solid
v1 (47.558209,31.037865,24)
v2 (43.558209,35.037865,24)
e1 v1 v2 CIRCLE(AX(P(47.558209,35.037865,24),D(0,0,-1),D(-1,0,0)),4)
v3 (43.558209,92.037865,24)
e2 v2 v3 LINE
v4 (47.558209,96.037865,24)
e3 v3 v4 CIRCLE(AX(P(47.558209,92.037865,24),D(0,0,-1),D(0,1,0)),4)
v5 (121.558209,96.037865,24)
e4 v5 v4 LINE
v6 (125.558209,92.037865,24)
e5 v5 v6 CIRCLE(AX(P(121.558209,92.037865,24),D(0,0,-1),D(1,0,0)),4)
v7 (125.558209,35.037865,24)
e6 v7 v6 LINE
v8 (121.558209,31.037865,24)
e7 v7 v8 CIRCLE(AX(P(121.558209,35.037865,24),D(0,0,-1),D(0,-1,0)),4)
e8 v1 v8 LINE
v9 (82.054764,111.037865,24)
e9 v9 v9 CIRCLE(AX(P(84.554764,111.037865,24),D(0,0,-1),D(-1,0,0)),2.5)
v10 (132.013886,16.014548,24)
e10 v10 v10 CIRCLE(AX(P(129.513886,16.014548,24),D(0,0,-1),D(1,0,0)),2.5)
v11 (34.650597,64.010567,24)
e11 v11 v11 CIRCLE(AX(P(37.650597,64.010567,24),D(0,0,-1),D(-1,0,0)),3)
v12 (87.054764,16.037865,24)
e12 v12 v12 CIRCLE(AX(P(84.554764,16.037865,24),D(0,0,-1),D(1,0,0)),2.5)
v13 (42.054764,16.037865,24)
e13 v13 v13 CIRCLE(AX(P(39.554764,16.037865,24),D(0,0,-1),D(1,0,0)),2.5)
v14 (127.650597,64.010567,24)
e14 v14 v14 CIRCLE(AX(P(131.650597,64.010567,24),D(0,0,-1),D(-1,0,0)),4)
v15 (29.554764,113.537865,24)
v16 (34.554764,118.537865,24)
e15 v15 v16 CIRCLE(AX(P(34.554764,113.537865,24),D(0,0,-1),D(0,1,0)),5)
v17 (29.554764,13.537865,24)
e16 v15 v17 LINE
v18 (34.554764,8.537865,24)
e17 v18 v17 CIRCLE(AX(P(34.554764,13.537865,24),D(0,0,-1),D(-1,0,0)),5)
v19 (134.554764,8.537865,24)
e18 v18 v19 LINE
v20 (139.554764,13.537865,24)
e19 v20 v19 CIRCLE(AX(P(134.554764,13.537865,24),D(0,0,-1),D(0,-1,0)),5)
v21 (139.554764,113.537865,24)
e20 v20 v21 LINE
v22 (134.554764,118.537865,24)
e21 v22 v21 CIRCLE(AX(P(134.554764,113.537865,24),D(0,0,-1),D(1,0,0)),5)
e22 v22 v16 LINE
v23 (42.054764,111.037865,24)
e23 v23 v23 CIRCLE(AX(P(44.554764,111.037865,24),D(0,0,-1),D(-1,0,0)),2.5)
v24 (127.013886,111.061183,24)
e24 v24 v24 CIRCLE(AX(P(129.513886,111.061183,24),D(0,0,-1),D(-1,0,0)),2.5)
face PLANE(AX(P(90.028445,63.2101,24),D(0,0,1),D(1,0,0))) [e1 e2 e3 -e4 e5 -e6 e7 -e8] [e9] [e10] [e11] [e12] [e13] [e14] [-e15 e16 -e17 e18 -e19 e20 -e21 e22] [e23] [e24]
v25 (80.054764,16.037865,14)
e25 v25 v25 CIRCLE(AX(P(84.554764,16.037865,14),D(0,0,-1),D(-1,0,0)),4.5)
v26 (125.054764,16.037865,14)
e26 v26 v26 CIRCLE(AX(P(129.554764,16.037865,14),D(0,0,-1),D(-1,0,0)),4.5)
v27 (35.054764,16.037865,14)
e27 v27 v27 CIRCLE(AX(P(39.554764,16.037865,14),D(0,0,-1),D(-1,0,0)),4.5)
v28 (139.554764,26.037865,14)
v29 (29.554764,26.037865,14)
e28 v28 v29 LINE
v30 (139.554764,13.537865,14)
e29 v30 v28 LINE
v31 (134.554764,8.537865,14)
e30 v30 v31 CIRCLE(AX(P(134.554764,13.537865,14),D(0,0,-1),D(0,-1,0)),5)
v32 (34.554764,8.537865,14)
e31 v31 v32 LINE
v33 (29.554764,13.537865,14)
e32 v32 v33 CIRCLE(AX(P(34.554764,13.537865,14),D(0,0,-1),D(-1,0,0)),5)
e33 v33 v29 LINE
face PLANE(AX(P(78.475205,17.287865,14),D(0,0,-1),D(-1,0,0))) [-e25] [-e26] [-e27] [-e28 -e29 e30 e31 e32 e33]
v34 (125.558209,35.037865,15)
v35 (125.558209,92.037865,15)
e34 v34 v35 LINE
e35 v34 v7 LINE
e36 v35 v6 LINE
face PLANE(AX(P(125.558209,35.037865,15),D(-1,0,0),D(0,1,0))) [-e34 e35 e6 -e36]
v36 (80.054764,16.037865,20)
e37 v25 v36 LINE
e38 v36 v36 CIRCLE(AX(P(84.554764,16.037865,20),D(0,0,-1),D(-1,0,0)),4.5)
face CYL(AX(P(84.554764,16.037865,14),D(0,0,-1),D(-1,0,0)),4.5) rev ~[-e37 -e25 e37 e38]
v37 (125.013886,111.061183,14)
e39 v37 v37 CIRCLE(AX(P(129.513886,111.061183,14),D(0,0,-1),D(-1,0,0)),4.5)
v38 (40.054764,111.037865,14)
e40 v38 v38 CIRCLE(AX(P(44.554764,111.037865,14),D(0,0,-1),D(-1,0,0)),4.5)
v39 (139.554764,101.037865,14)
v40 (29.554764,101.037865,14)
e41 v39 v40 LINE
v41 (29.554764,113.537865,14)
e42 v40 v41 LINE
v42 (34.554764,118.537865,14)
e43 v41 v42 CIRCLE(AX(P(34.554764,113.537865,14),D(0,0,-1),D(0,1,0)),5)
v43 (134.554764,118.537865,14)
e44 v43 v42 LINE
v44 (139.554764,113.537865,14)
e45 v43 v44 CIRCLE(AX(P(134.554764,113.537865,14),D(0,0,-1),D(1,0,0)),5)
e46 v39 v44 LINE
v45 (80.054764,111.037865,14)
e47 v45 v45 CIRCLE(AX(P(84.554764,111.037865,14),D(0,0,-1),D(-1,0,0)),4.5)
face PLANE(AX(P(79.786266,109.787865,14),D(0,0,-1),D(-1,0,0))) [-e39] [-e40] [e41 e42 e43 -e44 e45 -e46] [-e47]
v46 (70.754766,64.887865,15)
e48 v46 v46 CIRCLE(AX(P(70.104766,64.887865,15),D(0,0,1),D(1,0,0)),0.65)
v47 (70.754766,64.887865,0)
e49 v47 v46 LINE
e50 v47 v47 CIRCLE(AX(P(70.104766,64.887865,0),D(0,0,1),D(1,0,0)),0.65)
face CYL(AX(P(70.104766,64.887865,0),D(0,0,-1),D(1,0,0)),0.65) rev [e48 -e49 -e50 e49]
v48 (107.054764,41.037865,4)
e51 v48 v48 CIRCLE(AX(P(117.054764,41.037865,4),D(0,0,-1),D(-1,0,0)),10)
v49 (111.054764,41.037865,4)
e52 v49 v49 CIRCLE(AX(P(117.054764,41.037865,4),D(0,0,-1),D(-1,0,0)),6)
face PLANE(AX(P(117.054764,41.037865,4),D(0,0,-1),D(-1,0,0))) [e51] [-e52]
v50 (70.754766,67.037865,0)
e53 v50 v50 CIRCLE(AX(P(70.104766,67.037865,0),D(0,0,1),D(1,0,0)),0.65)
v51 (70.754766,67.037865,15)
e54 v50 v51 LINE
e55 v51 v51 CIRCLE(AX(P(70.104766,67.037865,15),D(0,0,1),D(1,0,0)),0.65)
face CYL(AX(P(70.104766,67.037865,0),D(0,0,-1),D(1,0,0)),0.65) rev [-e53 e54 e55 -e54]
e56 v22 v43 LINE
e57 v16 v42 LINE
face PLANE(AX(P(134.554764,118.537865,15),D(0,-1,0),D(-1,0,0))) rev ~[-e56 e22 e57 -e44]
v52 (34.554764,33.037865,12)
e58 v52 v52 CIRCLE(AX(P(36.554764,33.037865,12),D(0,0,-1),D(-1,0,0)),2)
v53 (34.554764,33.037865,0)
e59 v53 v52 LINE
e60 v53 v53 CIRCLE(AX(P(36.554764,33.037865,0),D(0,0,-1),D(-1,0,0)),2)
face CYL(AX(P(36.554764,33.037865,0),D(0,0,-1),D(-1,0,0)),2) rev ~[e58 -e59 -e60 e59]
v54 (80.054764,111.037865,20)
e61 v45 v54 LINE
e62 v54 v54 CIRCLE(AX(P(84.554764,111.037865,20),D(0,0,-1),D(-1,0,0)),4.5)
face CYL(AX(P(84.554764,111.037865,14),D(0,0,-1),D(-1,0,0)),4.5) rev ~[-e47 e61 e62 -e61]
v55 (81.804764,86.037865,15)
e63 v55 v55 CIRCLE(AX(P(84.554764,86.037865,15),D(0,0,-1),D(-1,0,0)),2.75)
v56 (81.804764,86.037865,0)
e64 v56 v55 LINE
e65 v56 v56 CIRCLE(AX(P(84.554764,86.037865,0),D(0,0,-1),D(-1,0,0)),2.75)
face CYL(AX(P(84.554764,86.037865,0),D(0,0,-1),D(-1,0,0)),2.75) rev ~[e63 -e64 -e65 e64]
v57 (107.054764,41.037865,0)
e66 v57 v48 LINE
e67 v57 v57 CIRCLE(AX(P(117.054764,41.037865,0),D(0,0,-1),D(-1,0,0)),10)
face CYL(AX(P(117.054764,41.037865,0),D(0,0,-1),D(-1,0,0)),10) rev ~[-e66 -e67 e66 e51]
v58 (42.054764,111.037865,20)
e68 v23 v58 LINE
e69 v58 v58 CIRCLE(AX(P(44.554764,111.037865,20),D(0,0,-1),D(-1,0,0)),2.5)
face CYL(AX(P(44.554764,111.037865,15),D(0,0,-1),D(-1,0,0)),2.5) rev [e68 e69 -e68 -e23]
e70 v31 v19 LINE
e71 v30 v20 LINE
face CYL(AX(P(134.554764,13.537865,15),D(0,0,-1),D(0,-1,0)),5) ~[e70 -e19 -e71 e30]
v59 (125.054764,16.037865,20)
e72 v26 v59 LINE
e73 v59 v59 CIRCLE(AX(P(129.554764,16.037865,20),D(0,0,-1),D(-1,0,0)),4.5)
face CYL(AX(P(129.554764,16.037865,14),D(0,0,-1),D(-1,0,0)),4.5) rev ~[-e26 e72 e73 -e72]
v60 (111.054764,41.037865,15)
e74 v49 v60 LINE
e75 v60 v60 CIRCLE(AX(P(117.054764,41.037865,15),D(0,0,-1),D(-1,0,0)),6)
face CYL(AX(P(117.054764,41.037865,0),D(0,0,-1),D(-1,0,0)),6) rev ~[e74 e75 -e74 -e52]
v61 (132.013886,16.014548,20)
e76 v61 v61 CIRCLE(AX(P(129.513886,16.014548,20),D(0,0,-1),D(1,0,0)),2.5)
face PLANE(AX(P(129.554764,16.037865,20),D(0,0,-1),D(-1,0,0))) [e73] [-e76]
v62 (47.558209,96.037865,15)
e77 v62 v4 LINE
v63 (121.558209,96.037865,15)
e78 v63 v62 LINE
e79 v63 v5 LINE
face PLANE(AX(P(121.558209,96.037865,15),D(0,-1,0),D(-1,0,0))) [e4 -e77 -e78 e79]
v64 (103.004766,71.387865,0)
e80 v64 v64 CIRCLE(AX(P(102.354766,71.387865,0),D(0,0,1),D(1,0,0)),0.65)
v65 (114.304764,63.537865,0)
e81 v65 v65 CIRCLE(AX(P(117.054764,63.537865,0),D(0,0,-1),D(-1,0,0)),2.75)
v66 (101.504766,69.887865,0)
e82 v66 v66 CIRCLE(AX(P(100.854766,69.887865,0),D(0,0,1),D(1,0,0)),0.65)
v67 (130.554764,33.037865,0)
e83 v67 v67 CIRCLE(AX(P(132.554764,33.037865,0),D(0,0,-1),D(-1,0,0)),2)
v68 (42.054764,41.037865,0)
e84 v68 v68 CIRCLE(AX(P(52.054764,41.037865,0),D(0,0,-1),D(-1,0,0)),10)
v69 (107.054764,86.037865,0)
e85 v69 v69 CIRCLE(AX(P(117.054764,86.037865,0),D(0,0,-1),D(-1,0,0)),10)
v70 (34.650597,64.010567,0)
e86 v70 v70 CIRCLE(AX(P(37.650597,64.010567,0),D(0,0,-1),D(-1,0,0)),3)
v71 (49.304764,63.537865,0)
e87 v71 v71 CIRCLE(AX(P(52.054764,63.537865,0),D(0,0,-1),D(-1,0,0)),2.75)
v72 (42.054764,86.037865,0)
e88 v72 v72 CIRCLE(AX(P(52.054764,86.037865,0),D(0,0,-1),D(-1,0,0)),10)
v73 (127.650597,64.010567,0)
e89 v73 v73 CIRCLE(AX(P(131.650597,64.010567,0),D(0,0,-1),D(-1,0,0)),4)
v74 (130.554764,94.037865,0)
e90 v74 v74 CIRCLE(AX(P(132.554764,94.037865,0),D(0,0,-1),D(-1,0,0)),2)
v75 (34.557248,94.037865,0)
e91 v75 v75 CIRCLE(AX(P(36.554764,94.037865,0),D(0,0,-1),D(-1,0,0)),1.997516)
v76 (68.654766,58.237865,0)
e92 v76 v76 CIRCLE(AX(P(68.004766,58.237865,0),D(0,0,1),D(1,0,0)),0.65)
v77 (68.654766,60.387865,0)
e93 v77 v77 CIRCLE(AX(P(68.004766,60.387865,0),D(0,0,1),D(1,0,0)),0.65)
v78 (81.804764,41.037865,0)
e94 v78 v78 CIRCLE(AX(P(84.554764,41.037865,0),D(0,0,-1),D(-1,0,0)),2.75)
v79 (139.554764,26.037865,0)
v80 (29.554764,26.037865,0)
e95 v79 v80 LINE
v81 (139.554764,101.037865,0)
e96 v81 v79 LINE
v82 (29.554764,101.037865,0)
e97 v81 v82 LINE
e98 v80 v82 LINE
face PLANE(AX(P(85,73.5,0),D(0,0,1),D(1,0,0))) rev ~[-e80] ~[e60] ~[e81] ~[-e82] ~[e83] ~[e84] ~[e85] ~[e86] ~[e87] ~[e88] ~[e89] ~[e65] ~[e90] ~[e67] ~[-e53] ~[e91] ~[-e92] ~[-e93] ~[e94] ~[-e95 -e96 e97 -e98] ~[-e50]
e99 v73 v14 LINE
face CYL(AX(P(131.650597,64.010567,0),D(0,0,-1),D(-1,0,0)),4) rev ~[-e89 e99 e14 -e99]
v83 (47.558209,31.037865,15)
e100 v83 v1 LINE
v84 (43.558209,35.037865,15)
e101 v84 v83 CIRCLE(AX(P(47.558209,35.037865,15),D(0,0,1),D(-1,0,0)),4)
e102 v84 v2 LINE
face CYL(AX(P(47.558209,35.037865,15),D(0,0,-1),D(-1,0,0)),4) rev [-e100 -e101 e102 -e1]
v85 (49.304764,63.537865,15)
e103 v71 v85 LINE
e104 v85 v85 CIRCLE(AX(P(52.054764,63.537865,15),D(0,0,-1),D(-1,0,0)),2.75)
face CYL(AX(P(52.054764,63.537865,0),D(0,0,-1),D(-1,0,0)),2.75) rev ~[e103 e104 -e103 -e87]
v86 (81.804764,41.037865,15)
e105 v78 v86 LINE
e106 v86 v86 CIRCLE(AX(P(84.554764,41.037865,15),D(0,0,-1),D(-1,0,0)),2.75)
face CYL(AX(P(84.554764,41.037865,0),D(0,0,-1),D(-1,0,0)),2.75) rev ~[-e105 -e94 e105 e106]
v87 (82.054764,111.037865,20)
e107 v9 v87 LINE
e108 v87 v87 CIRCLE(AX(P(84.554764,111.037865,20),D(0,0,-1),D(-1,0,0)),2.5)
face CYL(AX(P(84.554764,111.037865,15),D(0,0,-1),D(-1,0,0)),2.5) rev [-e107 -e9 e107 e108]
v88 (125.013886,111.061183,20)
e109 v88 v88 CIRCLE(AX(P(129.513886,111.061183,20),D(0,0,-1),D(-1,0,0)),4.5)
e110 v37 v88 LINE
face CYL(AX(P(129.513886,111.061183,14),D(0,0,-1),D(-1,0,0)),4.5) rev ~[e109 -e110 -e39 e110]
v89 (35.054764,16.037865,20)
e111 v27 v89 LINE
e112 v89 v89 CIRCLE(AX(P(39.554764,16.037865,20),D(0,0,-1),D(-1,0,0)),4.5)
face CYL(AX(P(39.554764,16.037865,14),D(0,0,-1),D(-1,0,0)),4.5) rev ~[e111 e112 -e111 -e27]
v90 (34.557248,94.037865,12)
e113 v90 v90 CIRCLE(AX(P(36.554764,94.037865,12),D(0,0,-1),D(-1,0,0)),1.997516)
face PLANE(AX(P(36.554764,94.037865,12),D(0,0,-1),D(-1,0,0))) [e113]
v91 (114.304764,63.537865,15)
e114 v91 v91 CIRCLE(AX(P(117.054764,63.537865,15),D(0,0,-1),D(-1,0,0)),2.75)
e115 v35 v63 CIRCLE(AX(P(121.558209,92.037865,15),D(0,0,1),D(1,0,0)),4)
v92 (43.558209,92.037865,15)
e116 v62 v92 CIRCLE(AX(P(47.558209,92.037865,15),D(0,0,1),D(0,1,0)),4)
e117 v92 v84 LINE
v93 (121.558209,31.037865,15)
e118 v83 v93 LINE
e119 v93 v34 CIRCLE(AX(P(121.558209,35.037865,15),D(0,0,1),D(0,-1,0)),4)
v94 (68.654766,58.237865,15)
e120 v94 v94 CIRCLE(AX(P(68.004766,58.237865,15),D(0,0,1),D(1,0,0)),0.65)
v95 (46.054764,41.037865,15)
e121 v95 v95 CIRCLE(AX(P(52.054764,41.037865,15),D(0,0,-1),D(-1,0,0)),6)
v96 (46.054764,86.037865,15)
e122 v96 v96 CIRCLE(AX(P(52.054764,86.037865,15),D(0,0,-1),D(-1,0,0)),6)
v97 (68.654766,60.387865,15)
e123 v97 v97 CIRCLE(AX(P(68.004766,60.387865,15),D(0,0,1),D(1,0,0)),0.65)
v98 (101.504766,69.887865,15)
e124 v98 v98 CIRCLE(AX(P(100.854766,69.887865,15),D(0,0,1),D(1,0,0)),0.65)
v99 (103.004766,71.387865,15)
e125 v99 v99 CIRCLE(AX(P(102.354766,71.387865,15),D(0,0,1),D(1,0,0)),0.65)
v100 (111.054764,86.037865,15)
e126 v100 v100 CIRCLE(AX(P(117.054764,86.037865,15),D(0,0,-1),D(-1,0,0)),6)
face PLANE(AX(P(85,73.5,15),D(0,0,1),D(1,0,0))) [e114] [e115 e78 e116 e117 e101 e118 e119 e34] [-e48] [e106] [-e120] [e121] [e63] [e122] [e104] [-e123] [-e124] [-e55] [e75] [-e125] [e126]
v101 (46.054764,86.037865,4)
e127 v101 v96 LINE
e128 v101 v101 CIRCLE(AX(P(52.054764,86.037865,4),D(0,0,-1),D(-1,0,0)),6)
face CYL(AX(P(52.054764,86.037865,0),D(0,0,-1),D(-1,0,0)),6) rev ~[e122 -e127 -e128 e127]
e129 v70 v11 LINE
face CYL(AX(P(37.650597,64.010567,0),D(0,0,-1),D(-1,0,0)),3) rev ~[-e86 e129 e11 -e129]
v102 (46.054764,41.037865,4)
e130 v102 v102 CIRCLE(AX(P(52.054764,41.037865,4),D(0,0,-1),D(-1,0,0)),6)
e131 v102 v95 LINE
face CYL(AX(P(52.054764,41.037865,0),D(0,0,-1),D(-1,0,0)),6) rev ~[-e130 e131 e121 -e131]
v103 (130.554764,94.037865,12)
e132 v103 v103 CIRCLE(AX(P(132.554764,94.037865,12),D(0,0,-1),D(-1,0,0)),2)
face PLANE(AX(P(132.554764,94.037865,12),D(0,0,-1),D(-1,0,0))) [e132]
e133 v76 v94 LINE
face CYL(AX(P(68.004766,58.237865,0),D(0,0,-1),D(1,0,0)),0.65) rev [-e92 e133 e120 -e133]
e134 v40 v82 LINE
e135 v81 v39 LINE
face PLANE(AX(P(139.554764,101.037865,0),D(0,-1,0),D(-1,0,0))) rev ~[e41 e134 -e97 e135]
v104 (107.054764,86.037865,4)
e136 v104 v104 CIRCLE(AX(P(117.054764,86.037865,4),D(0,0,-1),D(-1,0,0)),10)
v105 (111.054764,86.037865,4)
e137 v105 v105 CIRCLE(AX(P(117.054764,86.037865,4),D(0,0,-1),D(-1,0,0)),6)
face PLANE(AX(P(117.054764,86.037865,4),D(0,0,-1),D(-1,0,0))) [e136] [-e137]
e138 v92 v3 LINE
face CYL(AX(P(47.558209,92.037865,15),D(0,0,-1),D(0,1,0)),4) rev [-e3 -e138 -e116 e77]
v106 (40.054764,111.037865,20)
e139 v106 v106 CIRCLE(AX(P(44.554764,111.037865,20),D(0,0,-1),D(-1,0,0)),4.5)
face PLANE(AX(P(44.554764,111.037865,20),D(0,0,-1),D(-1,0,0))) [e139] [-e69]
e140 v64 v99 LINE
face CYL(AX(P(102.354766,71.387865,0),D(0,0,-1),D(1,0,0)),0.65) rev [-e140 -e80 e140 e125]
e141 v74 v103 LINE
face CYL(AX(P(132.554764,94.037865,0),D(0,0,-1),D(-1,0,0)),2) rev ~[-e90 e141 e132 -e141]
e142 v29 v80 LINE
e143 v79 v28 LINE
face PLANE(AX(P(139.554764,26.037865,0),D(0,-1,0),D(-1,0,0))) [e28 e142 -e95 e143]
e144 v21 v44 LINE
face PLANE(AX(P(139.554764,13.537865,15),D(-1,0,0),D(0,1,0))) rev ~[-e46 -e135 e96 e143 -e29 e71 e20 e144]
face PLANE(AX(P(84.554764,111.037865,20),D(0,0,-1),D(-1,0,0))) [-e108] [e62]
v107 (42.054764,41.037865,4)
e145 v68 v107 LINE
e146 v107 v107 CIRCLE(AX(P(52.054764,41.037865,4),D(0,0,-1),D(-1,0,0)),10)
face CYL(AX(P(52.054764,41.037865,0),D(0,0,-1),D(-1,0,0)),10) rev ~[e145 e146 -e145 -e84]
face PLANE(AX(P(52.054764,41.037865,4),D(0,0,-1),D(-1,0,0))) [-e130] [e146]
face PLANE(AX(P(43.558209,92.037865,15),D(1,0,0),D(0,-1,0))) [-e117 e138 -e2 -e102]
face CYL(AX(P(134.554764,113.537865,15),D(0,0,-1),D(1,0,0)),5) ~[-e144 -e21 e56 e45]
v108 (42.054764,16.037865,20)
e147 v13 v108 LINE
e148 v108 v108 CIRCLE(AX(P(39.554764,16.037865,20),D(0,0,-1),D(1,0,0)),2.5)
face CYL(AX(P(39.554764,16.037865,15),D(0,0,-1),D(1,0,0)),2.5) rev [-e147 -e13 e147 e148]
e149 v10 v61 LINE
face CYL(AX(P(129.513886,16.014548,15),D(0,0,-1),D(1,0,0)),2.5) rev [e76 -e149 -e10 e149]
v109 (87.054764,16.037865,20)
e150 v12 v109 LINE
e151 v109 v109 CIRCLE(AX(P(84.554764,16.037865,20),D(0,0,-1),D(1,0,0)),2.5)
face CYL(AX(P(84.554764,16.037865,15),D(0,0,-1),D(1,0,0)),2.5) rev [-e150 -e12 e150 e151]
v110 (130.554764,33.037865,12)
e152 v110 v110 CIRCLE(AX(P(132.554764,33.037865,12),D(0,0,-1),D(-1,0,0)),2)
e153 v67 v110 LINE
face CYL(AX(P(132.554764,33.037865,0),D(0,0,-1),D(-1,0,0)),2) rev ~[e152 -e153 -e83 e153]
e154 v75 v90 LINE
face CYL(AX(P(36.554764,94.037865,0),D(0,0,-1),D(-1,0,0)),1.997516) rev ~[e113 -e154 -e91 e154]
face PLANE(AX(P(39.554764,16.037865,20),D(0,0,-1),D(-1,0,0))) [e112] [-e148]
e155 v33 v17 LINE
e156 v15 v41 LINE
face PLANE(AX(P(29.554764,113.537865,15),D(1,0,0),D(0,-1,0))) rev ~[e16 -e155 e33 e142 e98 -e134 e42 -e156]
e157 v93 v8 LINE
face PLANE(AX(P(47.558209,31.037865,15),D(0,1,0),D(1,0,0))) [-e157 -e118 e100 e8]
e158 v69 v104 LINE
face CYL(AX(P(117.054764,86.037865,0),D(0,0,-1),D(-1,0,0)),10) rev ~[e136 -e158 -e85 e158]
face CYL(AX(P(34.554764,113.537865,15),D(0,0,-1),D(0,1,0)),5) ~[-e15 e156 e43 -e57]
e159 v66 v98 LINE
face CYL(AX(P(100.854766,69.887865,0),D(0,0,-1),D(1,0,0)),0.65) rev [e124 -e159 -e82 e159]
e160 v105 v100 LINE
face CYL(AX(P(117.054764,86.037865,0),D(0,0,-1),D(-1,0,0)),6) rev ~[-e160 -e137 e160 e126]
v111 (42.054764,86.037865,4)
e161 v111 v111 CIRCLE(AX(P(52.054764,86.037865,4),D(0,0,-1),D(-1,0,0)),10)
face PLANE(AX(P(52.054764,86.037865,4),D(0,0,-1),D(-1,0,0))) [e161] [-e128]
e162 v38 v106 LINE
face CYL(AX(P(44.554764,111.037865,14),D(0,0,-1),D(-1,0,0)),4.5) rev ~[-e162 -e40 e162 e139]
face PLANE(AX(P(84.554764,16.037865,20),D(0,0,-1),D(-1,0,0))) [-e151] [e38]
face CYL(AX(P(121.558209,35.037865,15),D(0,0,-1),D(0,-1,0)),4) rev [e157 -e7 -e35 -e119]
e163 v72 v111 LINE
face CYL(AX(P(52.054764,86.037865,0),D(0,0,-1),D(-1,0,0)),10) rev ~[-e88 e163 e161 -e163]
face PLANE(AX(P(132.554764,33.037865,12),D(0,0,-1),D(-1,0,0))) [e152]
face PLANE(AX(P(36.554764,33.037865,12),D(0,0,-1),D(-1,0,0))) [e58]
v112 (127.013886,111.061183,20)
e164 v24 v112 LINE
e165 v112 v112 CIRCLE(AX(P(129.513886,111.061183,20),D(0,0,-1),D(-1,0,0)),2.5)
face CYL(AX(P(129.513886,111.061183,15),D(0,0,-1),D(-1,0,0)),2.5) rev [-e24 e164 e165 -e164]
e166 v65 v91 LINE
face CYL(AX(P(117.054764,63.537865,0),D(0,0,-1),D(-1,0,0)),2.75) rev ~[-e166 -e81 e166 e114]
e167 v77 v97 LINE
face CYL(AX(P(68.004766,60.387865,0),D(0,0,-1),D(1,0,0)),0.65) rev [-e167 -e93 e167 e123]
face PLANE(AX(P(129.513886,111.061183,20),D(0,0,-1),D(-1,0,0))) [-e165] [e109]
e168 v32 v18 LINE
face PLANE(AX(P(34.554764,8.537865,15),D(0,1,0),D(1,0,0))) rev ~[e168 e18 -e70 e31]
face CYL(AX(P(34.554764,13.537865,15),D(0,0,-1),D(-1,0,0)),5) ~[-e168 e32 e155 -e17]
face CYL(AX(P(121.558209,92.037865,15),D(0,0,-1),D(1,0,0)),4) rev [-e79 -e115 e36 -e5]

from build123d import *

# Parameters (mm, degrees)
CROQUIS1_W              = 170
CROQUIS1_H              = 147
CROQUIS1_R              = 0.65
SALIENTE_EXTRUIR1_DEPTH = 15
CROQUIS2_R              = 6
CROQUIS2_R_2            = 2.75
CORTAR_EXTRUIR1_DEPTH   = 226.242091981
CROQUIS3_R              = 10
CORTAR_EXTRUIR2_DEPTH   = 4
CROQUIS5_R              = 2.5
CORTAR_EXTRUIR4_DEPTH   = 226.242091981
CROQUIS7_W              = 194.996484343
CROQUIS7_H              = 184.60954518
CORTAR_EXTRUIR6_DEPTH   = 226.242091981
CROQUIS8_R              = 2.5
SALIENTE_EXTRUIR2_DEPTH = 49
CROQUIS11_R             = 3.25
CROQUIS11_R_2           = 2.75
CORTAR_EXTRUIR9_DEPTH   = 20
CROQUIS12_R             = 1.997516107
CROQUIS12_R_2           = 2
CORTAR_EXTRUIR10_DEPTH  = 12
CROQUIS13_W             = 135.039321601
CROQUIS13_H             = 118.061076797
CORTAR_EXTRUIR11_DEPTH  = 40
CROQUIS14_W             = 119.536996173
CROQUIS14_H             = 17.5
CROQUIS14_W_2           = 122.159118923
CORTAR_EXTRUIR12_DEPTH  = 14
CROQUIS10_R             = 4.5
CORTAR_EXTRUIR8_DEPTH   = 6
CROQUIS15_R             = 3.89592378
CROQUIS15_R_2           = 2.9773148
SALIENTE_EXTRUIR3_DEPTH = 24
CORTAR_EXTRUIR13_START  = -9
CORTAR_EXTRUIR13_DEPTH  = 9
CROQUIS17_R             = 3
CROQUIS17_R_2           = 4
CORTAR_EXTRUIR14_DEPTH  = 24


with BuildPart() as part:
    # Croquis1 → Saliente-Extruir1 (new body)
    with BuildSketch(Plane.XY):
        with Locations((85, 73.5)):
            Rectangle(CROQUIS1_W, CROQUIS1_H)
        with Locations((102.354765644, 71.387865203)):
            Circle(CROQUIS1_R, mode=Mode.SUBTRACT)
        with Locations((68.004765644, 60.387865203)):
            Circle(CROQUIS1_R, mode=Mode.SUBTRACT)
        with Locations((68.004765644, 58.237865203)):
            Circle(CROQUIS1_R, mode=Mode.SUBTRACT)
        with Locations((70.104765644, 64.887865203)):
            Circle(CROQUIS1_R, mode=Mode.SUBTRACT)
        with Locations((70.104765644, 67.037865203)):
            Circle(CROQUIS1_R, mode=Mode.SUBTRACT)
        with Locations((100.854765644, 69.887865203)):
            Circle(CROQUIS1_R, mode=Mode.SUBTRACT)
    extrude(amount=SALIENTE_EXTRUIR1_DEPTH)

    # Croquis2 → Cortar-Extruir1 (cut, through all)
    with BuildSketch(Plane(origin=(0, 0, 0), x_dir=(-1, 0, 0), z_dir=(0, 0, -1))):
        with Locations((-52.054764009, 86.037865203)):
            Circle(CROQUIS2_R)
        with Locations((-117.054764009, 86.037865203)):
            Circle(CROQUIS2_R)
        with Locations((-117.054764009, 41.037865203)):
            Circle(CROQUIS2_R)
        with Locations((-52.054764009, 41.037865203)):
            Circle(CROQUIS2_R)
        with Locations((-117.054764009, 63.537865203)):
            Circle(CROQUIS2_R_2)
        with Locations((-52.054764009, 63.537865203)):
            Circle(CROQUIS2_R_2)
        with Locations((-84.554764009, 86.037865203)):
            Circle(CROQUIS2_R_2)
        with Locations((-84.554764009, 41.037865203)):
            Circle(CROQUIS2_R_2)
    extrude(amount=-CORTAR_EXTRUIR1_DEPTH, mode=Mode.SUBTRACT)

    # Croquis3 → Cortar-Extruir2 (cut)
    with BuildSketch(Plane(origin=(0, 0, 0), x_dir=(-1, 0, 0), z_dir=(0, 0, -1))):
        with Locations((-52.054764009, 86.037865203)):
            Circle(CROQUIS3_R)
        with Locations((-117.054764009, 86.037865203)):
            Circle(CROQUIS3_R)
        with Locations((-117.054764009, 41.037865203)):
            Circle(CROQUIS3_R)
        with Locations((-52.054764009, 41.037865203)):
            Circle(CROQUIS3_R)
    extrude(amount=-CORTAR_EXTRUIR2_DEPTH, mode=Mode.SUBTRACT)

    # Croquis5 → Cortar-Extruir4 (cut, through all)
    with BuildSketch(Plane(origin=(0, 0, 0), x_dir=(-1, 0, 0), z_dir=(0, 0, -1))):
        with Locations((-84.554764009, 111.037865203)):
            Circle(CROQUIS5_R)
        with Locations((-44.554764009, 111.037865203)):
            Circle(CROQUIS5_R)
        with Locations((-129.51388638, 111.061182682)):
            Circle(CROQUIS5_R)
        with Locations(Location((-129.51388638, 16.014547725, 0), (0, 0, 180))):
            Circle(CROQUIS5_R)
        with Locations(Location((-39.554764009, 16.037865203, 0), (0, 0, 180))):
            Circle(CROQUIS5_R)
        with Locations(Location((-84.554764009, 16.037865203, 0), (0, 0, 180))):
            Circle(CROQUIS5_R)
    extrude(amount=-CORTAR_EXTRUIR4_DEPTH, mode=Mode.SUBTRACT)

    # Croquis7 → Cortar-Extruir6 (cut, through all)
    with BuildSketch(Plane(origin=(0, 0, 0), x_dir=(-1, 0, 0), z_dir=(0, 0, -1))):
        with Locations((-84.554764009, 63.537865203)):
            Rectangle(CROQUIS7_W, CROQUIS7_H)
        with BuildLine():
            Line((-134.554764009, 8.537865203), (-34.554764009, 8.537865203))
            ThreePointArc((-34.554764009, 8.537865203), (-31.019230103, 10.002331297), (-29.554764009, 13.537865203))
            Line((-29.554764009, 13.537865203), (-29.554764009, 113.537865203))
            ThreePointArc((-29.554764009, 113.537865203), (-31.019230103, 117.073399109), (-34.554764009, 118.537865203))
            Line((-34.554764009, 118.537865203), (-134.554764009, 118.537865203))
            ThreePointArc((-134.554764009, 118.537865203), (-138.090297915, 117.073399109), (-139.554764009, 113.537865203))
            Line((-139.554764009, 113.537865203), (-139.554764009, 13.537865203))
            ThreePointArc((-139.554764009, 13.537865203), (-138.090297915, 10.002331297), (-134.554764009, 8.537865203))
        make_face(mode=Mode.SUBTRACT)
    extrude(amount=-CORTAR_EXTRUIR6_DEPTH, mode=Mode.SUBTRACT)

    # Croquis8 → Saliente-Extruir2 (add)
    with BuildSketch(Plane.XY.offset(15)):
        with BuildLine():
            Line((29.554764009, 113.537865203), (29.554764009, 13.537865203))
            ThreePointArc((29.554764009, 13.537865203), (31.019230103, 10.002331297), (34.554764009, 8.537865203))
            Line((34.554764009, 8.537865203), (134.554764009, 8.537865203))
            ThreePointArc((134.554764009, 8.537865203), (138.090297915, 10.002331297), (139.554764009, 13.537865203))
            Line((139.554764009, 13.537865203), (139.554764009, 113.537865203))
            ThreePointArc((139.554764009, 113.537865203), (138.090297915, 117.073399109), (134.554764009, 118.537865203))
            Line((134.554764009, 118.537865203), (34.554764009, 118.537865203))
            ThreePointArc((34.554764009, 118.537865203), (31.019230103, 117.073399109), (29.554764009, 113.537865203))
        make_face()
        with Locations(Location((44.554764009, 111.037865203, 0), (0, 0, 180))):
            Circle(CROQUIS8_R, mode=Mode.SUBTRACT)
        with Locations(Location((84.554764009, 111.037865203, 0), (0, 0, 180))):
            Circle(CROQUIS8_R, mode=Mode.SUBTRACT)
        with Locations(Location((129.51388638, 111.061182682, 0), (0, 0, 180))):
            Circle(CROQUIS8_R, mode=Mode.SUBTRACT)
        with Locations((129.51388638, 16.014547725)):
            Circle(CROQUIS8_R, mode=Mode.SUBTRACT)
        with Locations((84.554764009, 16.037865203)):
            Circle(CROQUIS8_R, mode=Mode.SUBTRACT)
        with Locations((39.554764009, 16.037865203)):
            Circle(CROQUIS8_R, mode=Mode.SUBTRACT)
        with BuildLine():
            Line((47.558208504, 31.037865203), (121.558208504, 31.037865203))
            ThreePointArc((121.558208504, 31.037865203), (124.386635629, 32.209438078), (125.558208504, 35.037865203))
            Line((125.558208504, 35.037865203), (125.558208504, 92.037865203))
            ThreePointArc((125.558208504, 92.037865203), (124.386635629, 94.866292328), (121.558208504, 96.037865203))
            Line((121.558208504, 96.037865203), (47.558208504, 96.037865203))
            ThreePointArc((47.558208504, 96.037865203), (44.72978138, 94.866292328), (43.558208504, 92.037865203))
            Line((43.558208504, 92.037865203), (43.558208504, 35.037865203))
            ThreePointArc((43.558208504, 35.037865203), (44.72978138, 32.209438078), (47.558208504, 31.037865203))
        make_face(mode=Mode.SUBTRACT)
    extrude(amount=SALIENTE_EXTRUIR2_DEPTH)

    # Croquis11 → Cortar-Extruir9 (cut)
    with BuildSketch(Plane(origin=(0, 0, 0), x_dir=(-1, 0, 0), z_dir=(0, 0, -1))):
        with Locations((-41.554764009, 63.537865203)):
            Circle(CROQUIS11_R)
        with Locations((-135.554764009, 63.537865203)):
            Circle(CROQUIS11_R_2)
    extrude(amount=-CORTAR_EXTRUIR9_DEPTH, mode=Mode.SUBTRACT)

    # Croquis12 → Cortar-Extruir10 (cut)
    with BuildSketch(Plane(origin=(0, 0, 0), x_dir=(-1, 0, 0), z_dir=(0, 0, -1))):
        with Locations((-36.554764009, 94.037865203)):
            Circle(CROQUIS12_R)
        with Locations((-36.554764009, 33.037865203)):
            Circle(CROQUIS12_R_2)
        with Locations((-132.554764009, 33.037865203)):
            Circle(CROQUIS12_R_2)
        with Locations((-132.554764009, 94.037865203)):
            Circle(CROQUIS12_R_2)
    extrude(amount=-CORTAR_EXTRUIR10_DEPTH, mode=Mode.SUBTRACT)

    # Croquis13 → Cortar-Extruir11 (cut)
    with BuildSketch(Plane.XY.offset(64)):
        with Locations((90.028445249, 63.21009986)):
            Rectangle(CROQUIS13_W, CROQUIS13_H)
    extrude(amount=-CORTAR_EXTRUIR11_DEPTH, mode=Mode.SUBTRACT)

    # Croquis14 → Cortar-Extruir12 (cut)
    with BuildSketch(Plane(origin=(0, 0, 0), x_dir=(-1, 0, 0), z_dir=(0, 0, -1))):
        with Locations((-79.786265922, 109.787865203)):
            Rectangle(CROQUIS14_W, CROQUIS14_H)
        with Locations((-78.475204547, 17.287865203)):
            Rectangle(CROQUIS14_W_2, CROQUIS14_H)
    extrude(amount=-CORTAR_EXTRUIR12_DEPTH, mode=Mode.SUBTRACT)

    # Croquis10 → Cortar-Extruir8 (cut)
    with BuildSketch(Plane(origin=(0, 0, 14), x_dir=(-1, 0, 0), z_dir=(0, 0, -1))):
        with Locations((-44.554764009, 111.037865203)):
            Circle(CROQUIS10_R)
        with Locations((-84.554764009, 111.037865203)):
            Circle(CROQUIS10_R)
        with Locations((-129.51388638, 111.061182682)):
            Circle(CROQUIS10_R)
        with Locations((-129.554764009, 16.037865203)):
            Circle(CROQUIS10_R)
        with Locations((-84.554764009, 16.037865203)):
            Circle(CROQUIS10_R)
        with Locations((-39.554764009, 16.037865203)):
            Circle(CROQUIS10_R)
    extrude(amount=-CORTAR_EXTRUIR8_DEPTH, mode=Mode.SUBTRACT)

    # Croquis15 → Saliente-Extruir3 (add)
    with BuildSketch(Plane(origin=(0, 0, 0), x_dir=(-1, 0, 0), z_dir=(0, 0, -1))):
        with Locations((-41.554764009, 63.537865203)):
            Circle(CROQUIS15_R)
        with Locations((-135.554764009, 63.537865203)):
            Circle(CROQUIS15_R_2)
    extrude(amount=-SALIENTE_EXTRUIR3_DEPTH)

    # Croquis16 → Cortar-Extruir13 (cut)
    with BuildSketch(Plane.XY.offset(24).offset(CORTAR_EXTRUIR13_START)):
        with BuildLine():
            Line((43.558208504, 66.879187135), (43.558208504, 60.196543272))
            ThreePointArc((43.558208504, 60.196543272), (45.450687788, 63.537865203), (43.558208504, 66.879187135))
        make_face()
    extrude(amount=CORTAR_EXTRUIR13_DEPTH, mode=Mode.SUBTRACT)

    # Croquis17 → Cortar-Extruir14 (cut)
    with BuildSketch(Plane(origin=(0, 0, 0), x_dir=(-1, 0, 0), z_dir=(0, 0, -1))):
        with Locations((-37.65059727, 64.010566888)):
            Circle(CROQUIS17_R)
        with Locations((-131.65059727, 64.010566888)):
            Circle(CROQUIS17_R_2)
    extrude(amount=-CORTAR_EXTRUIR14_DEPTH, mode=Mode.SUBTRACT)


solid = part.part
